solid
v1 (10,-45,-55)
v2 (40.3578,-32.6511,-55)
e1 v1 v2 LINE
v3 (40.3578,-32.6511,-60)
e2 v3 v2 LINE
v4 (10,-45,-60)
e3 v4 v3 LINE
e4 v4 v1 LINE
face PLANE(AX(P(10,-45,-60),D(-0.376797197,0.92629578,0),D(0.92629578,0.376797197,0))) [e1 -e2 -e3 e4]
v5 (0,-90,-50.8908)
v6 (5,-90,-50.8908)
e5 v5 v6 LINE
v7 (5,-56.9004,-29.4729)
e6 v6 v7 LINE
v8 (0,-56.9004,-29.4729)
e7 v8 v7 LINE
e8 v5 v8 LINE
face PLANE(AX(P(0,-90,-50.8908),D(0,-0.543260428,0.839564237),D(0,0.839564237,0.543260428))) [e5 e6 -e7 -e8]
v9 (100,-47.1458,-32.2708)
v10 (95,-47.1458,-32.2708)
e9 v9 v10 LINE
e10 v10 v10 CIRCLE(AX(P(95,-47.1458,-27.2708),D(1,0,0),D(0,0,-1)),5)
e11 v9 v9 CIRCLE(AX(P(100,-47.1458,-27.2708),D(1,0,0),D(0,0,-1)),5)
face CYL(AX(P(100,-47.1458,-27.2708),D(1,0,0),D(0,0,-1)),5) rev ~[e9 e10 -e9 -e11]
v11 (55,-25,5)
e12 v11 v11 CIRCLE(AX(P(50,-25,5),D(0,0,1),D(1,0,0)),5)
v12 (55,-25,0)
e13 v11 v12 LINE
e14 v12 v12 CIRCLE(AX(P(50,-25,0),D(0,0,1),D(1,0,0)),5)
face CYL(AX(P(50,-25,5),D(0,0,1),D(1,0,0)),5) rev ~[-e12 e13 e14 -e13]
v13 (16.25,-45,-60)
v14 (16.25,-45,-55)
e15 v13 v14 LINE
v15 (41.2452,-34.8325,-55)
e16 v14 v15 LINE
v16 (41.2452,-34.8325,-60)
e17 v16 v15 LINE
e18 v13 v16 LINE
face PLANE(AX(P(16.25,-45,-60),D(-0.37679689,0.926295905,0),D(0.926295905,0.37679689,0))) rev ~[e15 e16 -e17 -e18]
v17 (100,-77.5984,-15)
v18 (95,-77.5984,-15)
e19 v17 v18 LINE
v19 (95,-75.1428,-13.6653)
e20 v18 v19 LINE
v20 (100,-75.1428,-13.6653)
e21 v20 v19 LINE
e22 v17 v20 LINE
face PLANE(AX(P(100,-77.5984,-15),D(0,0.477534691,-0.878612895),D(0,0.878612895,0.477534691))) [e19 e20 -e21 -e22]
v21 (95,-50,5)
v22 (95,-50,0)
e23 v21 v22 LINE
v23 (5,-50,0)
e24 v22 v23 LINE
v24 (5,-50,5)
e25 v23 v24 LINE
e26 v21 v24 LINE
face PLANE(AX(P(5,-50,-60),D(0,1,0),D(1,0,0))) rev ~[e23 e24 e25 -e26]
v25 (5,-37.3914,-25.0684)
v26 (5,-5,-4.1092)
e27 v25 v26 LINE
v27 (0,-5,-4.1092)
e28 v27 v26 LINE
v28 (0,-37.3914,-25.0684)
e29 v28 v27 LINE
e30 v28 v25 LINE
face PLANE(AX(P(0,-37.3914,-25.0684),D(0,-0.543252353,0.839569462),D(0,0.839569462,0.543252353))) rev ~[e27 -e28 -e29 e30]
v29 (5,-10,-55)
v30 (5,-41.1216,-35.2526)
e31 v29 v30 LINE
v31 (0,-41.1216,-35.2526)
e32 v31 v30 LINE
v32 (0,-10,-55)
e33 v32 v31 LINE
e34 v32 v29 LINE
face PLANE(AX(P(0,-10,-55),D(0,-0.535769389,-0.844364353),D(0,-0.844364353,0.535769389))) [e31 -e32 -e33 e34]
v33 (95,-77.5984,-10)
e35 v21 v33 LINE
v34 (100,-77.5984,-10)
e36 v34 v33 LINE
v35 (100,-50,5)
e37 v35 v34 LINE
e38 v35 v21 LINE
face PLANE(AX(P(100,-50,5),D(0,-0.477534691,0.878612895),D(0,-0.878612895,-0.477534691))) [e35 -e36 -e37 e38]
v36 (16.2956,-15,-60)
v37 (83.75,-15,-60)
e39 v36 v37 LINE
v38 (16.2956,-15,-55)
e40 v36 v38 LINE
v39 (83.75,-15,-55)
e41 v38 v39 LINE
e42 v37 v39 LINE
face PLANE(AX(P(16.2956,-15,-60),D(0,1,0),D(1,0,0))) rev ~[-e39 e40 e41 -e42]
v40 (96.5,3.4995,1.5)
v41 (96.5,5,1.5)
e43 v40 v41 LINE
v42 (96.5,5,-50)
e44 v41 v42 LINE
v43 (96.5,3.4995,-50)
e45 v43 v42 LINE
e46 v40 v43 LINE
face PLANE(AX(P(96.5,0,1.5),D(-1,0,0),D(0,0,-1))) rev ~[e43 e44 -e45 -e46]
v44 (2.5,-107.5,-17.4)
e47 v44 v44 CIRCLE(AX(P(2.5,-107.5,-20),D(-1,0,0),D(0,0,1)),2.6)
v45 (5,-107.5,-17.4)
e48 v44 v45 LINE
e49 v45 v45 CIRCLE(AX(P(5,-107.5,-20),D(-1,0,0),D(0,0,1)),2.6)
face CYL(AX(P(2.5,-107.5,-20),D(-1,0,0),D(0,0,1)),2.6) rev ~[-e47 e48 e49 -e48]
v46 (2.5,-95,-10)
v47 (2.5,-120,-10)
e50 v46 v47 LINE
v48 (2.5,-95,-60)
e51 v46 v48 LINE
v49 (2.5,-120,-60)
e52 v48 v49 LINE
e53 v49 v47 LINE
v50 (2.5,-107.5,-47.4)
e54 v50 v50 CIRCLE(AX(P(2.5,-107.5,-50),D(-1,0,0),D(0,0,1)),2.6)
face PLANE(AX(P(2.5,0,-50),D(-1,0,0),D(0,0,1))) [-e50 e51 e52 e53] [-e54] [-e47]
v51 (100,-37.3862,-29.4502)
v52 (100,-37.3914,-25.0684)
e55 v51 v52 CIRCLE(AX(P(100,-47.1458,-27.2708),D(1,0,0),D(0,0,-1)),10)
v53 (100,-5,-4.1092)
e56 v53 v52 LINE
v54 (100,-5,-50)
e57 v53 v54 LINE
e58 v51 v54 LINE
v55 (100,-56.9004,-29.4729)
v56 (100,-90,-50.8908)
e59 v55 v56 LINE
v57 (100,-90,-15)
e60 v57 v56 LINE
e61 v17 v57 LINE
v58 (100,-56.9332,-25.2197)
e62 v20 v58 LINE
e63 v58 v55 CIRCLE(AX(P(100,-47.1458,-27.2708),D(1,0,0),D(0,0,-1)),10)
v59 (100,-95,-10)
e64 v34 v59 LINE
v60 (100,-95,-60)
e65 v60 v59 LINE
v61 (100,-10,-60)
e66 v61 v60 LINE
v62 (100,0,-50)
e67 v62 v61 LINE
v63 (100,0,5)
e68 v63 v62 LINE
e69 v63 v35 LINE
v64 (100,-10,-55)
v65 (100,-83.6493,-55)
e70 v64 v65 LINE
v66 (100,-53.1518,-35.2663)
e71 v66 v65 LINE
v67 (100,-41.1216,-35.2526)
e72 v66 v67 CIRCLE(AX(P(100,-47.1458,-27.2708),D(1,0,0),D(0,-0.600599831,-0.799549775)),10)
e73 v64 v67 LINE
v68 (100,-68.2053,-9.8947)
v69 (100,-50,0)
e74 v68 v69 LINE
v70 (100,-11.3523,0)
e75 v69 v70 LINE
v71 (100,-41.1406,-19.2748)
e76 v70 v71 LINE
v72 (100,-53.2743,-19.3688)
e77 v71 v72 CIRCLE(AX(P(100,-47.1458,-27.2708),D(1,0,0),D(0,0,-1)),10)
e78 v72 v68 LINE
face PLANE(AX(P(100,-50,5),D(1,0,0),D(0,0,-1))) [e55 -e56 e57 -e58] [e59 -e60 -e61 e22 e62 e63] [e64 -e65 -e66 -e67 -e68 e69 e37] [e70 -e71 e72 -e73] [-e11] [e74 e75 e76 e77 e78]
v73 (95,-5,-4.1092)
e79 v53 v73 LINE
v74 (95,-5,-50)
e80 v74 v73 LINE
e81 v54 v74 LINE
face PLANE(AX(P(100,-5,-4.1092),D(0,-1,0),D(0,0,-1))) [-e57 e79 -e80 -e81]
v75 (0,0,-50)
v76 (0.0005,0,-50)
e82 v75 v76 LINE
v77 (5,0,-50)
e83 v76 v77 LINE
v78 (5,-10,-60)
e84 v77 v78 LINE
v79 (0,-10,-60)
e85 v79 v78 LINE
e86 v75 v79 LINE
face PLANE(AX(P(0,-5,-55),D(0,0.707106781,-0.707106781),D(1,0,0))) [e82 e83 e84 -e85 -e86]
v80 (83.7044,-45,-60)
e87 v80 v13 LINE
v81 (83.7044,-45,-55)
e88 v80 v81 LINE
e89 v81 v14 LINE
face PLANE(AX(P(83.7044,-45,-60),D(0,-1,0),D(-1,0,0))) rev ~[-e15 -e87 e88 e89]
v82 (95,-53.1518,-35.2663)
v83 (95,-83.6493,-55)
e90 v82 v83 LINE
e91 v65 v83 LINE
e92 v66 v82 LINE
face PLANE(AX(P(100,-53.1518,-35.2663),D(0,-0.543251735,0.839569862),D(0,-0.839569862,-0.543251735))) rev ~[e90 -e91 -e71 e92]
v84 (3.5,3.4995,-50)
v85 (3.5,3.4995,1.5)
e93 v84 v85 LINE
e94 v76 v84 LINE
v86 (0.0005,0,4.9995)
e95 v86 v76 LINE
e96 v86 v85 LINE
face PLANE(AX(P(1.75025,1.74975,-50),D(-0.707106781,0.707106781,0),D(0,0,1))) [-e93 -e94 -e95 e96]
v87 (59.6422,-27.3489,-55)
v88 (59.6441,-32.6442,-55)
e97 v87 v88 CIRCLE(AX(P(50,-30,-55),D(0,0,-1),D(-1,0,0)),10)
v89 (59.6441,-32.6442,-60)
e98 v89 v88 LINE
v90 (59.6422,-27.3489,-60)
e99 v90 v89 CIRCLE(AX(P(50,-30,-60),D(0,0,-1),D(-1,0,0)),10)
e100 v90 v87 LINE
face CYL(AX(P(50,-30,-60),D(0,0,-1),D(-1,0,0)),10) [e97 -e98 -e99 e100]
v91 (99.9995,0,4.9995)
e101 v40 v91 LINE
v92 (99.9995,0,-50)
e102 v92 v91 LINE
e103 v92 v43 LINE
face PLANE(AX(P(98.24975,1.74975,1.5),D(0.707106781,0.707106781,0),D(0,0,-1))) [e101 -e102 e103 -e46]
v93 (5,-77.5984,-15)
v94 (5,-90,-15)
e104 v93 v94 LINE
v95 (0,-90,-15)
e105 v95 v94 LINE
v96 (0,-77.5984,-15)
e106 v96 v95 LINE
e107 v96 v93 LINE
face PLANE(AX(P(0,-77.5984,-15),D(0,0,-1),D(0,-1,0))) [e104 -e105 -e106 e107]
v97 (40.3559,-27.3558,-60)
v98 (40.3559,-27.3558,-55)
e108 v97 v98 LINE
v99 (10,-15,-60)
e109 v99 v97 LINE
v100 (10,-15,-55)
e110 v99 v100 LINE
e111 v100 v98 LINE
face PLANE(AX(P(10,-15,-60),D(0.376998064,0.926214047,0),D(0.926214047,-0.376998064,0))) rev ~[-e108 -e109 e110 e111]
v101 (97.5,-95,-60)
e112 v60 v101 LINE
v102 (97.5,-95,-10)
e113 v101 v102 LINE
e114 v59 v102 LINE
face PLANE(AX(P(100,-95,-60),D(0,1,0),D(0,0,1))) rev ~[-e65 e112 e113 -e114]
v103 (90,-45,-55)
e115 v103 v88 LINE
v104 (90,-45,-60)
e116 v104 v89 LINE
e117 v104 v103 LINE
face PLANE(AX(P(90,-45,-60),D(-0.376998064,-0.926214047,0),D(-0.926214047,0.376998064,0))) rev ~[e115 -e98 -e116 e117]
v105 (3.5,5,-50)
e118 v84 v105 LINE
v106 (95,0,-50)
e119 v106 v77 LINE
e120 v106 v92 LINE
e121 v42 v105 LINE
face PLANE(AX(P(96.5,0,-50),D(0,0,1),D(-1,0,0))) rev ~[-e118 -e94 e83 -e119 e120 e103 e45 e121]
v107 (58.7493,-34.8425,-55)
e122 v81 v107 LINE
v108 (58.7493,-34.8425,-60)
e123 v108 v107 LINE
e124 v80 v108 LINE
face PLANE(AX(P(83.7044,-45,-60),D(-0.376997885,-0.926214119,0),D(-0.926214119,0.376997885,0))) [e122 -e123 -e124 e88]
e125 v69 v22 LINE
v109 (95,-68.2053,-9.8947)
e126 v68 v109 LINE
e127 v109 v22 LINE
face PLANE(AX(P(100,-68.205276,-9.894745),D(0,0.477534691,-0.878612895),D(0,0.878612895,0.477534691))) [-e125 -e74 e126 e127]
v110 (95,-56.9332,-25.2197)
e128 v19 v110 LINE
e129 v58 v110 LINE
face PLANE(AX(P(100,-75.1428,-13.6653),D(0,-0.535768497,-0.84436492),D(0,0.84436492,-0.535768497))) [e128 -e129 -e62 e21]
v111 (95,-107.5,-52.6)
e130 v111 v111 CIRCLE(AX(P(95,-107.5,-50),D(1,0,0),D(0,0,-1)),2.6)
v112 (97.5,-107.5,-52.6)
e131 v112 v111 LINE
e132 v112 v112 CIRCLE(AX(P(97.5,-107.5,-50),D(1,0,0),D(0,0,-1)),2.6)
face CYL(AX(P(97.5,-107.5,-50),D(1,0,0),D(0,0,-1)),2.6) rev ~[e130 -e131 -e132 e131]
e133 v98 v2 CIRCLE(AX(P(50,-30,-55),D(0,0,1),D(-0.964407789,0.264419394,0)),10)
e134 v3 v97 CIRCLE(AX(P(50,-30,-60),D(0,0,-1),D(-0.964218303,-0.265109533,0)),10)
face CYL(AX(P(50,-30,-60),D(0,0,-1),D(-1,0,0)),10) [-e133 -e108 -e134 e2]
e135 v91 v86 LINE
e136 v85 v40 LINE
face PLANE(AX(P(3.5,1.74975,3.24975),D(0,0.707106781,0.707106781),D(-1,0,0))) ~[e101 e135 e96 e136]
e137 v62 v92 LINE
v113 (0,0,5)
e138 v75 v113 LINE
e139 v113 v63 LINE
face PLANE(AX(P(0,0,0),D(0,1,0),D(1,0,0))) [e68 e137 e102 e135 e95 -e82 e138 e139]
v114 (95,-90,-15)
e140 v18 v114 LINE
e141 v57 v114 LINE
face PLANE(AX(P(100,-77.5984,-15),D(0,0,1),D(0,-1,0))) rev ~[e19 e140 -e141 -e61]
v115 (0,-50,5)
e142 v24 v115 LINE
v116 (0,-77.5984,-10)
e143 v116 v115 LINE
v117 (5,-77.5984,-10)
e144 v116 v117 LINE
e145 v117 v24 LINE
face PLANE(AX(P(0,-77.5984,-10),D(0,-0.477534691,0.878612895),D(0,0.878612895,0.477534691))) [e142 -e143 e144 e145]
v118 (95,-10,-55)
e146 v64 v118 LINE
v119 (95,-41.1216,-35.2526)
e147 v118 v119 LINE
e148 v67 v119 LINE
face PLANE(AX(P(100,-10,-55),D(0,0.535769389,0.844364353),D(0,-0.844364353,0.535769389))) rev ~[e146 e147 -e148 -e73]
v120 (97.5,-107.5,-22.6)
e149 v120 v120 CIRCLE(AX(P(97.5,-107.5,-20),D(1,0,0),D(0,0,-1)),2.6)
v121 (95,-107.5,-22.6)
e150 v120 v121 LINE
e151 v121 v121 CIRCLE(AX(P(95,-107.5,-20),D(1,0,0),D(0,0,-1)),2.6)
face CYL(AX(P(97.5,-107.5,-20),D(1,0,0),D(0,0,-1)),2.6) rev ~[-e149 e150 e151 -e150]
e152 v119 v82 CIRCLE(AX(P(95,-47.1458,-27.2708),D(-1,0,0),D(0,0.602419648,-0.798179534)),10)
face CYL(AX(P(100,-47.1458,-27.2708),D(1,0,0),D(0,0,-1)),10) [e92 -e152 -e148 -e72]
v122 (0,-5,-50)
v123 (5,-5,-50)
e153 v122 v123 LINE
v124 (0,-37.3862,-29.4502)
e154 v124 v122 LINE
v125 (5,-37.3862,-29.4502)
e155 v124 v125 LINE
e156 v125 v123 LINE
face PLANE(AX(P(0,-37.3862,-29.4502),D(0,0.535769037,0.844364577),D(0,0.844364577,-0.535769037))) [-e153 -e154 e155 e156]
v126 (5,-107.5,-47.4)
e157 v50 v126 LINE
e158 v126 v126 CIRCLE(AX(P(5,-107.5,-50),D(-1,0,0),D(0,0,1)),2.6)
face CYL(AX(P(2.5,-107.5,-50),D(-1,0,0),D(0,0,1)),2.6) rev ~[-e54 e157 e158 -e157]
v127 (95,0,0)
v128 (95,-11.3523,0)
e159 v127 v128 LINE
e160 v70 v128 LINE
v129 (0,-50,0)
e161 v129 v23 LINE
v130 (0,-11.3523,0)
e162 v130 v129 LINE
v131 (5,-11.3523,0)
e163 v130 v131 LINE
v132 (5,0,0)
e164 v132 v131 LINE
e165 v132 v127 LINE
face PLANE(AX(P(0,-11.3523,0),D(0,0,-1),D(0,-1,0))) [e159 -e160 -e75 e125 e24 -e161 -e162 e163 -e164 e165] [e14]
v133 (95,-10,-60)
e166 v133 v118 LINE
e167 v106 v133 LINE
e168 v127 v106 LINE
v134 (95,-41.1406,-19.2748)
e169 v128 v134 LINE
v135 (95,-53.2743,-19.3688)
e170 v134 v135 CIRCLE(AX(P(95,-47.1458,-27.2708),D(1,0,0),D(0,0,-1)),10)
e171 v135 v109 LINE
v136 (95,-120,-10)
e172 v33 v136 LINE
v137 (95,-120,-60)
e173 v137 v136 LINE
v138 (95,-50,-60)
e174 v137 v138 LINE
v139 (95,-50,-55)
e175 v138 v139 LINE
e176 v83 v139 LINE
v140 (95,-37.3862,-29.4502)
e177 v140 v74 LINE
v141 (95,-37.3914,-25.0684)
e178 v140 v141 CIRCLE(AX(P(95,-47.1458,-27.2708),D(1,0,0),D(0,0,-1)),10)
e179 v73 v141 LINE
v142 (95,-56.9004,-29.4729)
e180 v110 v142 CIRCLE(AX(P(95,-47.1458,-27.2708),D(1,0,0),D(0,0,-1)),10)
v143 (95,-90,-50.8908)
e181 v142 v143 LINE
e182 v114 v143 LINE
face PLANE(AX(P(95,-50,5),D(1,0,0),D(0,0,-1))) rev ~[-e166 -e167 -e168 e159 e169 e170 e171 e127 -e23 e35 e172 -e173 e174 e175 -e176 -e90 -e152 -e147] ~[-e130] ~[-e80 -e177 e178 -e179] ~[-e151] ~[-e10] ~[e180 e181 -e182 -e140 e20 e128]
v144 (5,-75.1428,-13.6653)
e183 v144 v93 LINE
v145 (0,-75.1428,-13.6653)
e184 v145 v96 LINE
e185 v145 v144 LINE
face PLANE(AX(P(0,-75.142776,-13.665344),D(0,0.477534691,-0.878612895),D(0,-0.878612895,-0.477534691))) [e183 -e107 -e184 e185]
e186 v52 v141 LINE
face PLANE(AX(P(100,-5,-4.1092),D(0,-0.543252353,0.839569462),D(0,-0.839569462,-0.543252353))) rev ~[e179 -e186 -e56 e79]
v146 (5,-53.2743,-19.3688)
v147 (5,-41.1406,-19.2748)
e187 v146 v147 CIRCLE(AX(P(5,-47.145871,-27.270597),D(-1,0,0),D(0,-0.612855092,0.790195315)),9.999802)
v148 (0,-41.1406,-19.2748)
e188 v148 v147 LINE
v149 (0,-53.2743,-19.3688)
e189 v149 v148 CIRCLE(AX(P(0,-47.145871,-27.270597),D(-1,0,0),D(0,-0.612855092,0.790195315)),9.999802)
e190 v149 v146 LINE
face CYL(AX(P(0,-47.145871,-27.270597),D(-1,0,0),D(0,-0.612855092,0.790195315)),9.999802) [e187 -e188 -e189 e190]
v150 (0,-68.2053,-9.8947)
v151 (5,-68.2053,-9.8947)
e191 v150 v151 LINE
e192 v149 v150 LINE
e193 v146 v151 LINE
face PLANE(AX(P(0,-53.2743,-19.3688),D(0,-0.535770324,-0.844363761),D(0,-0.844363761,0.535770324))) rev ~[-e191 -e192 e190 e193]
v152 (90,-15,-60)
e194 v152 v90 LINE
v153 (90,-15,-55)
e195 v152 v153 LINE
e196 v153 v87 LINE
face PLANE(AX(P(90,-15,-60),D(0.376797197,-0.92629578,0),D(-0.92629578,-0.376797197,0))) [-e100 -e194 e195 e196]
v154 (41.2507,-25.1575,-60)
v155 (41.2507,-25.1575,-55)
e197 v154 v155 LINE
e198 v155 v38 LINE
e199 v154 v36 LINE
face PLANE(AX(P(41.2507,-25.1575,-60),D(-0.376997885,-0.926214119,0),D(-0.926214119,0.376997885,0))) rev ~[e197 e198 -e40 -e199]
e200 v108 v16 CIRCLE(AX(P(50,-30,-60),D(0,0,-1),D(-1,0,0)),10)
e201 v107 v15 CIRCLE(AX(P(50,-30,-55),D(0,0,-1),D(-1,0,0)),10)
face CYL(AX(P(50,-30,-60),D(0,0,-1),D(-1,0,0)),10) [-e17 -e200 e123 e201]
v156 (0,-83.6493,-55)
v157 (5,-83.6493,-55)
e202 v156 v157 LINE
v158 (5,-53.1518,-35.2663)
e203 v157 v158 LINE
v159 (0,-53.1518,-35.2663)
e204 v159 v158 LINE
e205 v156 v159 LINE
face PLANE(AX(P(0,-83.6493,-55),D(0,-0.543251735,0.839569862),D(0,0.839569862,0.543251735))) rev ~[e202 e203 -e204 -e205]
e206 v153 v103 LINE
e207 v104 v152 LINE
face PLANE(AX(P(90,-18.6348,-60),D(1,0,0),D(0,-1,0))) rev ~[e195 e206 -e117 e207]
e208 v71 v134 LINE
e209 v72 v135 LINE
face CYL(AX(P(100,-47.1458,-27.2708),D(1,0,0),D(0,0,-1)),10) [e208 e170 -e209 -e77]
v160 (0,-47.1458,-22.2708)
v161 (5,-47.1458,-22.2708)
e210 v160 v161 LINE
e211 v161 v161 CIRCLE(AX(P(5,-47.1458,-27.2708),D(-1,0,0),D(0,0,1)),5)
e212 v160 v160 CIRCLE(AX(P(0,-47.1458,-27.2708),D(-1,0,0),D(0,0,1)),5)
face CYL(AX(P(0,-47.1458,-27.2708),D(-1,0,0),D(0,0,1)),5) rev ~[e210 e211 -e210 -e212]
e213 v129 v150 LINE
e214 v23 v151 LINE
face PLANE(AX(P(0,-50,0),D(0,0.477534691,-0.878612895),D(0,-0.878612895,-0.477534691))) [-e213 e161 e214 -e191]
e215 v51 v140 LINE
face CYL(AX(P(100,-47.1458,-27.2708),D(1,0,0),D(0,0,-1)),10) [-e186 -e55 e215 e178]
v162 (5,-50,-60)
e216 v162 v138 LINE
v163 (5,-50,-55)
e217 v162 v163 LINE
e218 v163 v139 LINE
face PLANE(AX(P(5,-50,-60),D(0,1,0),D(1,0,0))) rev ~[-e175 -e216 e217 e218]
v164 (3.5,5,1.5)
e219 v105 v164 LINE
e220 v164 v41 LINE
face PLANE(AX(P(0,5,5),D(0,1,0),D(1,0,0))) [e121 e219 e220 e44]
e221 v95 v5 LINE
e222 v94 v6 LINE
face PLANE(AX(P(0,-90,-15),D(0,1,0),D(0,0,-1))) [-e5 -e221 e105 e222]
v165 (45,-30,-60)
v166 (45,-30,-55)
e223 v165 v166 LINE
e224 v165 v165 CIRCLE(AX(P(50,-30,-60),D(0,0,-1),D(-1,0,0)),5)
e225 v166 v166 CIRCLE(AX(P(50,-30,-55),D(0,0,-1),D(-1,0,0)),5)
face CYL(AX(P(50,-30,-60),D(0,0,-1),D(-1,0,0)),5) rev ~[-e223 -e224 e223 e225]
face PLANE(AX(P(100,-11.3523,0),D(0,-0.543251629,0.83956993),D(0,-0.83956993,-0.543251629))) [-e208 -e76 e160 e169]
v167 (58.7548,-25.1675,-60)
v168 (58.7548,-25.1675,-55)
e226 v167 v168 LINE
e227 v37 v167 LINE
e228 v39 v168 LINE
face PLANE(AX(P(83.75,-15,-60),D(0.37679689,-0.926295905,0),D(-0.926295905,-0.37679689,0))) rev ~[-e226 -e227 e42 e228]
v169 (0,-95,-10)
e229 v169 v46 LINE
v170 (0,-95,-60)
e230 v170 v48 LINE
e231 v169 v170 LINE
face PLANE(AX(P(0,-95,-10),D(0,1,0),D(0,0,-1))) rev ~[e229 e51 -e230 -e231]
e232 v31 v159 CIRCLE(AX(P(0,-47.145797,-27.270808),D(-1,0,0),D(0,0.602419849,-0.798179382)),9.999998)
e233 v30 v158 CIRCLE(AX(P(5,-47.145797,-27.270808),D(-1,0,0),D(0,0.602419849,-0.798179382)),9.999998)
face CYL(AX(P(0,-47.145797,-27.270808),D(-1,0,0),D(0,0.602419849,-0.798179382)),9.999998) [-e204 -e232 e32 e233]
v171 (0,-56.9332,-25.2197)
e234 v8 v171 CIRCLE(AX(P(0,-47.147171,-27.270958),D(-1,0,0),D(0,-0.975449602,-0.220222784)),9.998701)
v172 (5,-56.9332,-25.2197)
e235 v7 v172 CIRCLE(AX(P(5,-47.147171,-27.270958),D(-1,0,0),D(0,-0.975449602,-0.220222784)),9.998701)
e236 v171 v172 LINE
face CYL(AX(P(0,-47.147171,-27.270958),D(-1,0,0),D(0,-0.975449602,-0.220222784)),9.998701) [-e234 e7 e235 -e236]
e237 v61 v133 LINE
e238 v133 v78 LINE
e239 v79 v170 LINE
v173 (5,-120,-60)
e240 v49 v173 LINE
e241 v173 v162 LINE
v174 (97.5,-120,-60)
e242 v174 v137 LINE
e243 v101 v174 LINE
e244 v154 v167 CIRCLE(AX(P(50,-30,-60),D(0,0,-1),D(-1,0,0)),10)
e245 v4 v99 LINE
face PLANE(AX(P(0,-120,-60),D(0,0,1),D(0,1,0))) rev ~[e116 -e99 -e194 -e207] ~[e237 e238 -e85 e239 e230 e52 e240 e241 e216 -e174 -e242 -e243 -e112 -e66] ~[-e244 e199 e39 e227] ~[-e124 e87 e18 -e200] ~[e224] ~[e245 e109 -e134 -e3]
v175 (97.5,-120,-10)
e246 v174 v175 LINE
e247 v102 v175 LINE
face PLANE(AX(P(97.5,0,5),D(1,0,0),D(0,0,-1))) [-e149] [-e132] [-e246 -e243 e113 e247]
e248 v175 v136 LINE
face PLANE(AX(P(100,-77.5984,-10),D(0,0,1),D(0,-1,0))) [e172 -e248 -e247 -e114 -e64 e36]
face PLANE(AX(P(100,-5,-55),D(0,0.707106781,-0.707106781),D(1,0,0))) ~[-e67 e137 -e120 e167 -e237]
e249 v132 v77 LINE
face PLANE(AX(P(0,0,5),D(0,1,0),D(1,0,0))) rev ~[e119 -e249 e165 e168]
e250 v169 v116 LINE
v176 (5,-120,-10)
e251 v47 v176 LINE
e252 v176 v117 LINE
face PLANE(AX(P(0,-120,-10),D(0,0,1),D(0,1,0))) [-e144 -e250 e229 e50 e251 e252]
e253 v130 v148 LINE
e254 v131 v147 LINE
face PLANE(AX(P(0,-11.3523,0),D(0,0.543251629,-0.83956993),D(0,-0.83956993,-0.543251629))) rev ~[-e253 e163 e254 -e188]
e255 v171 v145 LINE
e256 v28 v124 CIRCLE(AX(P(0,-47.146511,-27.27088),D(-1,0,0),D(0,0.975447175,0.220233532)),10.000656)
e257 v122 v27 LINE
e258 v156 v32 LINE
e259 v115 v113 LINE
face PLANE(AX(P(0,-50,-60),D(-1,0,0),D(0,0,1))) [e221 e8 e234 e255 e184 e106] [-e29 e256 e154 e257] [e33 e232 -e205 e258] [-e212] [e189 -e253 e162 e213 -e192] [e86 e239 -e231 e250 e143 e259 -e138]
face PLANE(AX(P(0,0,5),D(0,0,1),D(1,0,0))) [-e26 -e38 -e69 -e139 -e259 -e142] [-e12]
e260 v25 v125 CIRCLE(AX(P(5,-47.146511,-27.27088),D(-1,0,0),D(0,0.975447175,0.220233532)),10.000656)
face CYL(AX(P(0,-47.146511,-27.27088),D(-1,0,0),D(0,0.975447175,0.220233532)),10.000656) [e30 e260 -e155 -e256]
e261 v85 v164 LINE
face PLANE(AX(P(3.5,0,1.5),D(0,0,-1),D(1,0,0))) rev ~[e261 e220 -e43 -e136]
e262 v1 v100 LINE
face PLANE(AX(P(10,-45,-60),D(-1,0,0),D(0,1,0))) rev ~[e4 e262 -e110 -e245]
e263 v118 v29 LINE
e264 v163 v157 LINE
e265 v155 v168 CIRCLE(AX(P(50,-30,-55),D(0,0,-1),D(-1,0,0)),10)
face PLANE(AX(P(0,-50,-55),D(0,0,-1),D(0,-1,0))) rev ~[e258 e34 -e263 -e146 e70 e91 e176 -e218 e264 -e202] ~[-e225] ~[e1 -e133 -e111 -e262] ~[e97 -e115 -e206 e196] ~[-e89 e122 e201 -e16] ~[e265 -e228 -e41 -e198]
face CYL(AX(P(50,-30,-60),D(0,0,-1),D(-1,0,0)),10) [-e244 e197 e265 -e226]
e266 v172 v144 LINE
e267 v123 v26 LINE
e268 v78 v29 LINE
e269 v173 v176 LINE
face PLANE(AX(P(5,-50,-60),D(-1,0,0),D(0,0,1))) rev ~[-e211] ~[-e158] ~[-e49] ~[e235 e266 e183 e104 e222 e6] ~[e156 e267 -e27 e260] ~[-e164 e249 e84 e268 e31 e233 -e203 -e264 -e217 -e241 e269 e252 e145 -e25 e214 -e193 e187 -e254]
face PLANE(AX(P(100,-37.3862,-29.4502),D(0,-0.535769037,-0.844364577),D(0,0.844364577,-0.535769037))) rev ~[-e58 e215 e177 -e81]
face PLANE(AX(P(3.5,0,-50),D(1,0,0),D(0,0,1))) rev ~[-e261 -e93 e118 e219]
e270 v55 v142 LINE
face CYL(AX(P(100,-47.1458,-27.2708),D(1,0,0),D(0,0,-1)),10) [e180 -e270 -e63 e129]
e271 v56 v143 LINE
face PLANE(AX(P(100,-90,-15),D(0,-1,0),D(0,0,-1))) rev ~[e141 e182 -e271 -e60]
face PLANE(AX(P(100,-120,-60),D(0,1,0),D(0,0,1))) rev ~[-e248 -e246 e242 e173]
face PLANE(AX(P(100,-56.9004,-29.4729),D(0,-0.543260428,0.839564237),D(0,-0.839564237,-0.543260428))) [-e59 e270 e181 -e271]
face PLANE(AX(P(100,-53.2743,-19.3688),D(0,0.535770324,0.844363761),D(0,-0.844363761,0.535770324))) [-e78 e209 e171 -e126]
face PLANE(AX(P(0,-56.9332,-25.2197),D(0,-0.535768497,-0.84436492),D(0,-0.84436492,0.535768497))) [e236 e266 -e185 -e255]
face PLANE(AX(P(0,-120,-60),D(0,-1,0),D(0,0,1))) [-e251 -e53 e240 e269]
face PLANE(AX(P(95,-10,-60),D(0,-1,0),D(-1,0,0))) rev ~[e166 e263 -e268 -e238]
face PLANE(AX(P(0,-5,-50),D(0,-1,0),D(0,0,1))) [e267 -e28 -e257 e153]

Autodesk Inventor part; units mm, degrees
ref_plane "YZ Plane" through (0, 0, 0) normal (1, 0, 0) x (0, 1, 0)
ref_plane "XZ Plane" through (0, 0, 0) normal (0, 1, 0) x (-1, 0, 0)
ref_plane "XY Plane" through (0, 0, 0) normal (0, 0, 1) x (1, 0, 0)
sketch "Esquisse1" plane through (0, 0, 0) normal (0, 0, 1) x (1, 0, 0)
  line L0 (0, 0) -> (100, 0)
  line L1 (100, 0) -> (100, -50)
  line L2 (100, -50) -> (0, -50)
  line L3 (0, -50) -> (0, 0)
  dimension "d0" = 50
  dimension "d1" = 100
extrude "Extrusion1" add sketch "Esquisse1" along normal blind 5
sketch "Esquisse2" plane through (0, 0, 5) normal (0, 0, 1) x (1, 0, 0)
  line L0 (100, 0) -> (0, 0) construction
  line L1 (0, -50) -> (100, -50) construction
  line L2 (0, 0) -> (100, -50) construction
  line L3 (0, 0) -> (0, -50) construction
  line L4 (100, 0) -> (0, -50) construction
  circle A0 centre (50, -25) radius 5
  dimension "d4" = 10
extrude "Extrusion2" cut sketch "Esquisse2" against normal blind 5
sketch "Esquisse3" plane through (0, 0, 0) normal (0, 0, -1) x (-1, 0, 0)
  line L0 (-100, 0) -> (-95, 0)
  line L1 (-95, 0) -> (-95, -50)
  line L2 (-95, -50) -> (-100, -50)
  line L3 (-100, -50) -> (-100, 0)
  line L4 (0, 0) -> (-5, 0)
  line L5 (-5, 0) -> (-5, -50)
  line L6 (-5, -50) -> (0, -50)
  line L7 (0, -50) -> (0, 0)
  dimension "d7" = 5
  dimension "d8" = 5
extrude "Extrusion3" add sketch "Esquisse3" along normal blind 60
chamfer "Chanfrein1" distance 10 angle 45 1 edges at (97.5, 0, -60)
chamfer "Chanfrein2" distance 10 angle 45 1 edges at (2.5, 0, -60)
sketch "Esquisse4" plane through (100, -50, 5) normal (1, 0, 0) x (0, 0, -1)
  line L0 (0, 0) -> (15, -27.5984)
  line L1 (0, 50) -> (0, 0) projected
  line L2 (0, 0) -> (15, 0)
  line L3 (0, 0) -> (65, 0) projected
  line L4 (65, 0) -> (65, -70)
  line L5 (65, -70) -> (15, -70)
  line L6 (15, -27.5984) -> (15, -70)
  point P0 (5, 50)
  dimension "d17" = 15
  dimension "d18" = 70
extrude "Extrusion4" add sketch "Esquisse4" against normal blind 5
sketch "Esquisse5" plane through (100, 0, 5) normal (1, 0, 0) x (0, 0, -1)
  line L0 (65, -120) -> (15, -120) projected
  line L1 (65, -10) -> (65, -120) projected
  line L2 (15, -120) -> (65, -120)
  line L3 (65, -120) -> (65, -95)
  line L4 (65, -95) -> (15, -95)
  line L5 (15, -95) -> (15, -120)
  point P0 (5, 0)
  dimension "d21" = 25
extrude "Extrusion5" cut sketch "Esquisse5" against normal blind 2.5
sketch "Esquisse6" plane through (97.5, 0, 5) normal (1, 0, 0) x (0, 0, -1)
  circle A0 centre (25, -107.5) radius 2.6
  circle A1 centre (55, -107.5) radius 2.6
  line L0 (15, -120) -> (15, -95) projected
  line L1 (65, -95) -> (65, -120) projected
  line L2 (15, -95) -> (65, -95) projected
  point P0 (5, 0)
  dimension "d24" = 5.2
  dimension "d25" = 5.2
  dimension "d26" = 10
  dimension "d27" = 10
  dimension "d28" = 12.5
  dimension "d29" = 12.5
extrude "Extrusion6" cut sketch "Esquisse6" against normal blind 2.5
sketch "Esquisse8" plane through (0, 0, 5) normal (0, 1, 0) x (1, 0, 0)
  line L0 (3.5, 3.5) -> (96.5, 3.5)
  line L1 (96.5, 3.5) -> (96.5, 55)
  line L2 (96.5, 55) -> (3.5, 55)
  line L3 (3.5, 55) -> (3.5, 3.5)
  point P0 (0, 5)
extrude "Extrusion8" add sketch "Esquisse8" along normal blind 5
chamfer "Chanfrein5" distance 3.5 angle 45 1 edges at (96.5, 0, -24.25)
chamfer "Chanfrein6" distance 3.5 angle 45 1 edges at (50, 0, 1.5)
chamfer "Chanfrein7" distance 3.5 angle 45 1 edges at (3.5, 0, -24.25)
sketch "Esquisse9" plane through (0, 0, -60) normal (0, 0, -1) x (-1, 0, 0)
  line L0 (-5, -50) -> (0, -50) projected
  line L1 (-95, -10) -> (-95, 0) projected
  line L2 (-5, -50) -> (-95, -50)
  line L3 (-95, -50) -> (-95, -10)
  line L4 (-95, -10) -> (-5, -10)
  line L5 (-5, -10) -> (-5, -50)
  point P0 (0, 0)
extrude "Extrusion9" add sketch "Esquisse9" against normal blind 5
sketch "Esquisse10" plane through (0, -50, -60) normal (-1, 0, 0) x (0, 0, 1)
  line L0 (50, -27.5984) -> (65, 0) projected
  line L1 (65, 0) -> (50, -27.5984)
  line L2 (50, -70) -> (50, -27.5984) projected
  line L3 (50, -27.5984) -> (50, -70)
  line L4 (0, -70) -> (50, -70) projected
  line L5 (50, -70) -> (0, -70)
  line L6 (0, -70) -> (0, 0)
  line L7 (0, 0) -> (65, 0)
  point P0 (60, 50)
extrude "Extrusion10" add sketch "Esquisse10" against normal blind 5
sketch "Esquisse11" plane through (0, 0, -50) normal (-1, 0, 0) x (0, 0, 1)
  line L0 (40, -77.5984) -> (40, -120) projected
  line L1 (-10, -120) -> (40, -120)
  line L2 (40, -120) -> (40, -95)
  line L3 (40, -95) -> (-10, -95)
  line L4 (-10, -95) -> (-10, -120)
  point P0 (50, 0)
  dimension "d63" = 25
extrude "Extrusion11" cut sketch "Esquisse11" against normal blind 2.5
sketch "Esquisse12" plane through (2.5, 0, -50) normal (-1, 0, 0) x (0, 0, 1)
  circle A0 centre (0, -107.5) radius 2.6 projected
  circle A1 centre (0, -107.5) radius 2.6
  circle A2 centre (30, -107.5) radius 2.6 projected
  circle A3 centre (30, -107.5) radius 2.6
  point P0 (50, 0)
extrude "Extrusion12" cut sketch "Esquisse12" against normal blind 2.5
sketch "Esquisse13" plane through (100, -95, -10) normal (1, 0, 0) x (0, 0, -1)
  line L0 (-10, 90) -> (35.5969, 90)
  line L1 (-10, 47.7175) -> (-10, 90)
  line L2 (-15, 45) -> (-15, 95) projected
  line L3 (-15, 45) -> (0, 17.4016) projected
  line L4 (-10, 47.7175) -> (-10, 45)
  line L5 (-15, 45) -> (0, 17.4016) projected
  line L6 (-15, 95) -> (40, 95) projected
  line L7 (35.5969, 90) -> (40, 90)
  line L8 (45, 85) -> (45, 45) projected
  line L9 (45, 85) -> (45, 5.9149)
  line L10 (5, 17.4016) -> (5, 5)
  line L11 (5, 5) -> (45, 5)
  line L12 (45, 5) -> (45, 5.9149)
  line L13 (0, 0) -> (50, 0) projected
  line L14 (0, 17.4016) -> (0, 0) projected
  line L15 (5, 17.4016) -> (5, 17.4016)
  line L16 (5, 17.4016) -> (-10, 45)
  line L17 (40, 90) -> (45, 85)
  line L18 (45, 45) -> (45, 85) construction
  circle A0 centre (17.2708, 47.8542) radius 5
  circle A1 centre (17.2708, 47.8542) radius 10
  line L19 (19.4502, 57.6138) -> (40, 90)
  line L20 (45, 85) -> (25.2526, 53.8784)
  line L21 (3.6653, 19.8572) -> (15.2197, 38.0668)
  line L22 (9.3688, 41.7257) -> (-0.1053, 26.7947)
  line L23 (-5.8908, 90) -> (15.0684, 57.6086) construction
  line L24 (19.4729, 38.0996) -> (40.8908, 5)
  line L25 (-5.8908, 90) -> (15.0684, 57.6086)
  line L26 (25.2663, 41.8482) -> (45, 11.3507)
  line L27 (-10, 83.6477) -> (9.2748, 53.8594)
  line L28 (-10, 45) -> (-10, 95) projected
  line L29 (-10, 83.6477) -> (-10, 45)
  line L30 (-10, 45) -> (-0.1053, 26.7947)
  dimension "d71" = 5
  dimension "d72" = 5
  dimension "d73" = 5
  dimension "d74" = 5
  dimension "d78" = 5
  dimension "d79" = 10
  dimension "d83" = 5
extrude "Extrusion13" cut sketch "Esquisse13" against normal blind 5 contours L0 L7 L19 A1 L25 | L27 A1 L22 L16 L4 L1 | L8 L9 L26 A1 L20 | A1 L24 L11 L10 L16 L21 | A0
sketch "Esquisse14" plane through (0, 0, -50) normal (-1, 0, 0) x (0, 0, 1)
  line L0 (0, -5) -> (45.8908, -5) projected
  line L1 (0, -5) -> (45.8908, -5)
  line L2 (45.8908, -5) -> (50, -5)
  line L3 (0, -5) -> (-5, -10)
  line L4 (-5, -10) -> (-5, -90)
  line L5 (50, -5) -> (50, -50)
  line L6 (35, -77.5984) -> (35, -90) projected
  line L7 (50, -50) -> (35, -77.5984)
  line L8 (35, -77.5984) -> (35, -90)
  line L9 (35, -90) -> (-5, -90)
  line L10 (35, -90) -> (-0.8908, -90) projected
  line L11 (-5, -10) -> (14.7474, -41.1216) projected
  line L12 (-5, -10) -> (14.7474, -41.1216)
  line L13 (24.7803, -56.9332) -> (36.3347, -75.1428) projected
  line L14 (24.7803, -56.9332) -> (36.3347, -75.1428)
  line L15 (30.6312, -53.2743) -> (40.1053, -68.2053) projected
  line L16 (30.6312, -53.2743) -> (40.1053, -68.2053)
  arc A0 (30.6312, -53.2743) -> (30.7252, -41.1406) centre (22.7292, -47.1458) ccw projected
  line L17 (50, -11.3523) -> (30.7252, -41.1406)
  line L18 (-5, -83.6493) -> (14.7337, -53.1518) projected
  line L19 (14.7337, -53.1518) -> (-5, -83.6493)
  arc A1 (20.5271, -56.9004) -> (24.7803, -56.9332) centre (22.7292, -47.1458) ccw projected
  line L20 (-0.8908, -90) -> (20.5271, -56.9004) projected
  line L21 (-0.8908, -90) -> (20.5271, -56.9004)
  line L22 (20.5498, -37.3862) -> (0, -5) projected
  line L23 (0, -5) -> (20.5741, -37.4244)
  line L24 (24.9316, -37.3914) -> (45.8908, -5) projected
  line L25 (45.8908, -5) -> (24.9316, -37.3914)
  line L26 (-0.8908, -90) -> (35, -90)
  line L27 (35, -77.5984) -> (36.3347, -75.1428)
  line L28 (-5, -50) -> (-5, -10) projected
  line L29 (-5, -10) -> (14.7474, -41.1216)
  line L30 (-5, -10) -> (-5, -83.6493)
  arc A2 (14.7474, -41.1216) -> (14.7337, -53.1518) centre (22.7292, -47.1458) ccw projected
  line L31 (-5, -83.6493) -> (14.7337, -53.1518)
  line L32 (0, -5) -> (20.5741, -37.4244)
  line L33 (0, -5) -> (45.8908, -5)
  arc A3 (24.9316, -37.3914) -> (20.5498, -37.3862) centre (22.7292, -47.1458) ccw projected
  line L34 (24.9316, -37.3914) -> (45.8908, -5)
  line L35 (40.1053, -68.2053) -> (30.6312, -53.2743)
  line L36 (50, -50) -> (40.1053, -68.2053) projected
  line L37 (40.1053, -68.2053) -> (50, -50)
  line L38 (30.7252, -41.1406) -> (50, -11.3523) projected
  line L39 (50, -50) -> (50, -11.3523)
  line L40 (50, -11.3523) -> (30.7252, -41.1406)
  circle A4 centre (22.7292, -47.1458) radius 5
extrude "Extrusion14" cut sketch "Esquisse14" against normal blind 5 contours L0 L24 A3 L22 | L11 A2 L18 L4 | L5 L7 L15 A0 L17 | L20 A1 L13 L7 L6 L9 | A4
sketch "Esquisse15" plane through (0, 0, -60) normal (0, 0, -1) x (-1, 0, 0)
  line L0 (-5, -50) -> (-95, -50) construction
  circle A0 centre (-50, -30) radius 5
  circle A1 centre (-50, -30) radius 10
  line L1 (-95, -10) -> (-5, -10) construction
  line L2 (-95, -10) -> (-95, -50) construction
  line L3 (-5, -9.9768) -> (-5, -50) construction
  line L4 (-90, -18.6348) -> (-90, -45)
  line L5 (-90, -45) -> (-10, -45)
  line L6 (-10, -45) -> (-10, -15)
  line L7 (-10, -15) -> (-90, -15)
  line L8 (-90, -15) -> (-90, -18.6348)
  line L9 (-90, -15) -> (-59.6422, -27.3489)
  line L10 (-83.75, -15) -> (-58.7548, -25.1675)
  line L11 (-41.2507, -25.1575) -> (-16.2956, -15)
  line L12 (-10, -15) -> (-40.3559, -27.3558)
  line L13 (-10, -45) -> (-40.3578, -32.6511)
  line L14 (-16.25, -45) -> (-41.2452, -34.8325)
  line L15 (-83.7044, -45) -> (-58.7493, -34.8425)
  line L16 (-90, -45) -> (-59.6441, -32.6442)
  point P0 (0, 0)
  dimension "d90" = 20
  dimension "d89" = 10
  dimension "d91" = 5
  dimension "d92" = 5
  dimension "d93" = 5
  dimension "d94" = 5
extrude "Extrusion15" cut sketch "Esquisse15" against normal blind 5 contours A0 | A1 L12 L6 L13 | A1 L10 L7 L11 | L14 L5 L15 A1 | A1 L16 L4 L8 L9
properties part number "Biceps1 v2" material "Plastique ABS"
